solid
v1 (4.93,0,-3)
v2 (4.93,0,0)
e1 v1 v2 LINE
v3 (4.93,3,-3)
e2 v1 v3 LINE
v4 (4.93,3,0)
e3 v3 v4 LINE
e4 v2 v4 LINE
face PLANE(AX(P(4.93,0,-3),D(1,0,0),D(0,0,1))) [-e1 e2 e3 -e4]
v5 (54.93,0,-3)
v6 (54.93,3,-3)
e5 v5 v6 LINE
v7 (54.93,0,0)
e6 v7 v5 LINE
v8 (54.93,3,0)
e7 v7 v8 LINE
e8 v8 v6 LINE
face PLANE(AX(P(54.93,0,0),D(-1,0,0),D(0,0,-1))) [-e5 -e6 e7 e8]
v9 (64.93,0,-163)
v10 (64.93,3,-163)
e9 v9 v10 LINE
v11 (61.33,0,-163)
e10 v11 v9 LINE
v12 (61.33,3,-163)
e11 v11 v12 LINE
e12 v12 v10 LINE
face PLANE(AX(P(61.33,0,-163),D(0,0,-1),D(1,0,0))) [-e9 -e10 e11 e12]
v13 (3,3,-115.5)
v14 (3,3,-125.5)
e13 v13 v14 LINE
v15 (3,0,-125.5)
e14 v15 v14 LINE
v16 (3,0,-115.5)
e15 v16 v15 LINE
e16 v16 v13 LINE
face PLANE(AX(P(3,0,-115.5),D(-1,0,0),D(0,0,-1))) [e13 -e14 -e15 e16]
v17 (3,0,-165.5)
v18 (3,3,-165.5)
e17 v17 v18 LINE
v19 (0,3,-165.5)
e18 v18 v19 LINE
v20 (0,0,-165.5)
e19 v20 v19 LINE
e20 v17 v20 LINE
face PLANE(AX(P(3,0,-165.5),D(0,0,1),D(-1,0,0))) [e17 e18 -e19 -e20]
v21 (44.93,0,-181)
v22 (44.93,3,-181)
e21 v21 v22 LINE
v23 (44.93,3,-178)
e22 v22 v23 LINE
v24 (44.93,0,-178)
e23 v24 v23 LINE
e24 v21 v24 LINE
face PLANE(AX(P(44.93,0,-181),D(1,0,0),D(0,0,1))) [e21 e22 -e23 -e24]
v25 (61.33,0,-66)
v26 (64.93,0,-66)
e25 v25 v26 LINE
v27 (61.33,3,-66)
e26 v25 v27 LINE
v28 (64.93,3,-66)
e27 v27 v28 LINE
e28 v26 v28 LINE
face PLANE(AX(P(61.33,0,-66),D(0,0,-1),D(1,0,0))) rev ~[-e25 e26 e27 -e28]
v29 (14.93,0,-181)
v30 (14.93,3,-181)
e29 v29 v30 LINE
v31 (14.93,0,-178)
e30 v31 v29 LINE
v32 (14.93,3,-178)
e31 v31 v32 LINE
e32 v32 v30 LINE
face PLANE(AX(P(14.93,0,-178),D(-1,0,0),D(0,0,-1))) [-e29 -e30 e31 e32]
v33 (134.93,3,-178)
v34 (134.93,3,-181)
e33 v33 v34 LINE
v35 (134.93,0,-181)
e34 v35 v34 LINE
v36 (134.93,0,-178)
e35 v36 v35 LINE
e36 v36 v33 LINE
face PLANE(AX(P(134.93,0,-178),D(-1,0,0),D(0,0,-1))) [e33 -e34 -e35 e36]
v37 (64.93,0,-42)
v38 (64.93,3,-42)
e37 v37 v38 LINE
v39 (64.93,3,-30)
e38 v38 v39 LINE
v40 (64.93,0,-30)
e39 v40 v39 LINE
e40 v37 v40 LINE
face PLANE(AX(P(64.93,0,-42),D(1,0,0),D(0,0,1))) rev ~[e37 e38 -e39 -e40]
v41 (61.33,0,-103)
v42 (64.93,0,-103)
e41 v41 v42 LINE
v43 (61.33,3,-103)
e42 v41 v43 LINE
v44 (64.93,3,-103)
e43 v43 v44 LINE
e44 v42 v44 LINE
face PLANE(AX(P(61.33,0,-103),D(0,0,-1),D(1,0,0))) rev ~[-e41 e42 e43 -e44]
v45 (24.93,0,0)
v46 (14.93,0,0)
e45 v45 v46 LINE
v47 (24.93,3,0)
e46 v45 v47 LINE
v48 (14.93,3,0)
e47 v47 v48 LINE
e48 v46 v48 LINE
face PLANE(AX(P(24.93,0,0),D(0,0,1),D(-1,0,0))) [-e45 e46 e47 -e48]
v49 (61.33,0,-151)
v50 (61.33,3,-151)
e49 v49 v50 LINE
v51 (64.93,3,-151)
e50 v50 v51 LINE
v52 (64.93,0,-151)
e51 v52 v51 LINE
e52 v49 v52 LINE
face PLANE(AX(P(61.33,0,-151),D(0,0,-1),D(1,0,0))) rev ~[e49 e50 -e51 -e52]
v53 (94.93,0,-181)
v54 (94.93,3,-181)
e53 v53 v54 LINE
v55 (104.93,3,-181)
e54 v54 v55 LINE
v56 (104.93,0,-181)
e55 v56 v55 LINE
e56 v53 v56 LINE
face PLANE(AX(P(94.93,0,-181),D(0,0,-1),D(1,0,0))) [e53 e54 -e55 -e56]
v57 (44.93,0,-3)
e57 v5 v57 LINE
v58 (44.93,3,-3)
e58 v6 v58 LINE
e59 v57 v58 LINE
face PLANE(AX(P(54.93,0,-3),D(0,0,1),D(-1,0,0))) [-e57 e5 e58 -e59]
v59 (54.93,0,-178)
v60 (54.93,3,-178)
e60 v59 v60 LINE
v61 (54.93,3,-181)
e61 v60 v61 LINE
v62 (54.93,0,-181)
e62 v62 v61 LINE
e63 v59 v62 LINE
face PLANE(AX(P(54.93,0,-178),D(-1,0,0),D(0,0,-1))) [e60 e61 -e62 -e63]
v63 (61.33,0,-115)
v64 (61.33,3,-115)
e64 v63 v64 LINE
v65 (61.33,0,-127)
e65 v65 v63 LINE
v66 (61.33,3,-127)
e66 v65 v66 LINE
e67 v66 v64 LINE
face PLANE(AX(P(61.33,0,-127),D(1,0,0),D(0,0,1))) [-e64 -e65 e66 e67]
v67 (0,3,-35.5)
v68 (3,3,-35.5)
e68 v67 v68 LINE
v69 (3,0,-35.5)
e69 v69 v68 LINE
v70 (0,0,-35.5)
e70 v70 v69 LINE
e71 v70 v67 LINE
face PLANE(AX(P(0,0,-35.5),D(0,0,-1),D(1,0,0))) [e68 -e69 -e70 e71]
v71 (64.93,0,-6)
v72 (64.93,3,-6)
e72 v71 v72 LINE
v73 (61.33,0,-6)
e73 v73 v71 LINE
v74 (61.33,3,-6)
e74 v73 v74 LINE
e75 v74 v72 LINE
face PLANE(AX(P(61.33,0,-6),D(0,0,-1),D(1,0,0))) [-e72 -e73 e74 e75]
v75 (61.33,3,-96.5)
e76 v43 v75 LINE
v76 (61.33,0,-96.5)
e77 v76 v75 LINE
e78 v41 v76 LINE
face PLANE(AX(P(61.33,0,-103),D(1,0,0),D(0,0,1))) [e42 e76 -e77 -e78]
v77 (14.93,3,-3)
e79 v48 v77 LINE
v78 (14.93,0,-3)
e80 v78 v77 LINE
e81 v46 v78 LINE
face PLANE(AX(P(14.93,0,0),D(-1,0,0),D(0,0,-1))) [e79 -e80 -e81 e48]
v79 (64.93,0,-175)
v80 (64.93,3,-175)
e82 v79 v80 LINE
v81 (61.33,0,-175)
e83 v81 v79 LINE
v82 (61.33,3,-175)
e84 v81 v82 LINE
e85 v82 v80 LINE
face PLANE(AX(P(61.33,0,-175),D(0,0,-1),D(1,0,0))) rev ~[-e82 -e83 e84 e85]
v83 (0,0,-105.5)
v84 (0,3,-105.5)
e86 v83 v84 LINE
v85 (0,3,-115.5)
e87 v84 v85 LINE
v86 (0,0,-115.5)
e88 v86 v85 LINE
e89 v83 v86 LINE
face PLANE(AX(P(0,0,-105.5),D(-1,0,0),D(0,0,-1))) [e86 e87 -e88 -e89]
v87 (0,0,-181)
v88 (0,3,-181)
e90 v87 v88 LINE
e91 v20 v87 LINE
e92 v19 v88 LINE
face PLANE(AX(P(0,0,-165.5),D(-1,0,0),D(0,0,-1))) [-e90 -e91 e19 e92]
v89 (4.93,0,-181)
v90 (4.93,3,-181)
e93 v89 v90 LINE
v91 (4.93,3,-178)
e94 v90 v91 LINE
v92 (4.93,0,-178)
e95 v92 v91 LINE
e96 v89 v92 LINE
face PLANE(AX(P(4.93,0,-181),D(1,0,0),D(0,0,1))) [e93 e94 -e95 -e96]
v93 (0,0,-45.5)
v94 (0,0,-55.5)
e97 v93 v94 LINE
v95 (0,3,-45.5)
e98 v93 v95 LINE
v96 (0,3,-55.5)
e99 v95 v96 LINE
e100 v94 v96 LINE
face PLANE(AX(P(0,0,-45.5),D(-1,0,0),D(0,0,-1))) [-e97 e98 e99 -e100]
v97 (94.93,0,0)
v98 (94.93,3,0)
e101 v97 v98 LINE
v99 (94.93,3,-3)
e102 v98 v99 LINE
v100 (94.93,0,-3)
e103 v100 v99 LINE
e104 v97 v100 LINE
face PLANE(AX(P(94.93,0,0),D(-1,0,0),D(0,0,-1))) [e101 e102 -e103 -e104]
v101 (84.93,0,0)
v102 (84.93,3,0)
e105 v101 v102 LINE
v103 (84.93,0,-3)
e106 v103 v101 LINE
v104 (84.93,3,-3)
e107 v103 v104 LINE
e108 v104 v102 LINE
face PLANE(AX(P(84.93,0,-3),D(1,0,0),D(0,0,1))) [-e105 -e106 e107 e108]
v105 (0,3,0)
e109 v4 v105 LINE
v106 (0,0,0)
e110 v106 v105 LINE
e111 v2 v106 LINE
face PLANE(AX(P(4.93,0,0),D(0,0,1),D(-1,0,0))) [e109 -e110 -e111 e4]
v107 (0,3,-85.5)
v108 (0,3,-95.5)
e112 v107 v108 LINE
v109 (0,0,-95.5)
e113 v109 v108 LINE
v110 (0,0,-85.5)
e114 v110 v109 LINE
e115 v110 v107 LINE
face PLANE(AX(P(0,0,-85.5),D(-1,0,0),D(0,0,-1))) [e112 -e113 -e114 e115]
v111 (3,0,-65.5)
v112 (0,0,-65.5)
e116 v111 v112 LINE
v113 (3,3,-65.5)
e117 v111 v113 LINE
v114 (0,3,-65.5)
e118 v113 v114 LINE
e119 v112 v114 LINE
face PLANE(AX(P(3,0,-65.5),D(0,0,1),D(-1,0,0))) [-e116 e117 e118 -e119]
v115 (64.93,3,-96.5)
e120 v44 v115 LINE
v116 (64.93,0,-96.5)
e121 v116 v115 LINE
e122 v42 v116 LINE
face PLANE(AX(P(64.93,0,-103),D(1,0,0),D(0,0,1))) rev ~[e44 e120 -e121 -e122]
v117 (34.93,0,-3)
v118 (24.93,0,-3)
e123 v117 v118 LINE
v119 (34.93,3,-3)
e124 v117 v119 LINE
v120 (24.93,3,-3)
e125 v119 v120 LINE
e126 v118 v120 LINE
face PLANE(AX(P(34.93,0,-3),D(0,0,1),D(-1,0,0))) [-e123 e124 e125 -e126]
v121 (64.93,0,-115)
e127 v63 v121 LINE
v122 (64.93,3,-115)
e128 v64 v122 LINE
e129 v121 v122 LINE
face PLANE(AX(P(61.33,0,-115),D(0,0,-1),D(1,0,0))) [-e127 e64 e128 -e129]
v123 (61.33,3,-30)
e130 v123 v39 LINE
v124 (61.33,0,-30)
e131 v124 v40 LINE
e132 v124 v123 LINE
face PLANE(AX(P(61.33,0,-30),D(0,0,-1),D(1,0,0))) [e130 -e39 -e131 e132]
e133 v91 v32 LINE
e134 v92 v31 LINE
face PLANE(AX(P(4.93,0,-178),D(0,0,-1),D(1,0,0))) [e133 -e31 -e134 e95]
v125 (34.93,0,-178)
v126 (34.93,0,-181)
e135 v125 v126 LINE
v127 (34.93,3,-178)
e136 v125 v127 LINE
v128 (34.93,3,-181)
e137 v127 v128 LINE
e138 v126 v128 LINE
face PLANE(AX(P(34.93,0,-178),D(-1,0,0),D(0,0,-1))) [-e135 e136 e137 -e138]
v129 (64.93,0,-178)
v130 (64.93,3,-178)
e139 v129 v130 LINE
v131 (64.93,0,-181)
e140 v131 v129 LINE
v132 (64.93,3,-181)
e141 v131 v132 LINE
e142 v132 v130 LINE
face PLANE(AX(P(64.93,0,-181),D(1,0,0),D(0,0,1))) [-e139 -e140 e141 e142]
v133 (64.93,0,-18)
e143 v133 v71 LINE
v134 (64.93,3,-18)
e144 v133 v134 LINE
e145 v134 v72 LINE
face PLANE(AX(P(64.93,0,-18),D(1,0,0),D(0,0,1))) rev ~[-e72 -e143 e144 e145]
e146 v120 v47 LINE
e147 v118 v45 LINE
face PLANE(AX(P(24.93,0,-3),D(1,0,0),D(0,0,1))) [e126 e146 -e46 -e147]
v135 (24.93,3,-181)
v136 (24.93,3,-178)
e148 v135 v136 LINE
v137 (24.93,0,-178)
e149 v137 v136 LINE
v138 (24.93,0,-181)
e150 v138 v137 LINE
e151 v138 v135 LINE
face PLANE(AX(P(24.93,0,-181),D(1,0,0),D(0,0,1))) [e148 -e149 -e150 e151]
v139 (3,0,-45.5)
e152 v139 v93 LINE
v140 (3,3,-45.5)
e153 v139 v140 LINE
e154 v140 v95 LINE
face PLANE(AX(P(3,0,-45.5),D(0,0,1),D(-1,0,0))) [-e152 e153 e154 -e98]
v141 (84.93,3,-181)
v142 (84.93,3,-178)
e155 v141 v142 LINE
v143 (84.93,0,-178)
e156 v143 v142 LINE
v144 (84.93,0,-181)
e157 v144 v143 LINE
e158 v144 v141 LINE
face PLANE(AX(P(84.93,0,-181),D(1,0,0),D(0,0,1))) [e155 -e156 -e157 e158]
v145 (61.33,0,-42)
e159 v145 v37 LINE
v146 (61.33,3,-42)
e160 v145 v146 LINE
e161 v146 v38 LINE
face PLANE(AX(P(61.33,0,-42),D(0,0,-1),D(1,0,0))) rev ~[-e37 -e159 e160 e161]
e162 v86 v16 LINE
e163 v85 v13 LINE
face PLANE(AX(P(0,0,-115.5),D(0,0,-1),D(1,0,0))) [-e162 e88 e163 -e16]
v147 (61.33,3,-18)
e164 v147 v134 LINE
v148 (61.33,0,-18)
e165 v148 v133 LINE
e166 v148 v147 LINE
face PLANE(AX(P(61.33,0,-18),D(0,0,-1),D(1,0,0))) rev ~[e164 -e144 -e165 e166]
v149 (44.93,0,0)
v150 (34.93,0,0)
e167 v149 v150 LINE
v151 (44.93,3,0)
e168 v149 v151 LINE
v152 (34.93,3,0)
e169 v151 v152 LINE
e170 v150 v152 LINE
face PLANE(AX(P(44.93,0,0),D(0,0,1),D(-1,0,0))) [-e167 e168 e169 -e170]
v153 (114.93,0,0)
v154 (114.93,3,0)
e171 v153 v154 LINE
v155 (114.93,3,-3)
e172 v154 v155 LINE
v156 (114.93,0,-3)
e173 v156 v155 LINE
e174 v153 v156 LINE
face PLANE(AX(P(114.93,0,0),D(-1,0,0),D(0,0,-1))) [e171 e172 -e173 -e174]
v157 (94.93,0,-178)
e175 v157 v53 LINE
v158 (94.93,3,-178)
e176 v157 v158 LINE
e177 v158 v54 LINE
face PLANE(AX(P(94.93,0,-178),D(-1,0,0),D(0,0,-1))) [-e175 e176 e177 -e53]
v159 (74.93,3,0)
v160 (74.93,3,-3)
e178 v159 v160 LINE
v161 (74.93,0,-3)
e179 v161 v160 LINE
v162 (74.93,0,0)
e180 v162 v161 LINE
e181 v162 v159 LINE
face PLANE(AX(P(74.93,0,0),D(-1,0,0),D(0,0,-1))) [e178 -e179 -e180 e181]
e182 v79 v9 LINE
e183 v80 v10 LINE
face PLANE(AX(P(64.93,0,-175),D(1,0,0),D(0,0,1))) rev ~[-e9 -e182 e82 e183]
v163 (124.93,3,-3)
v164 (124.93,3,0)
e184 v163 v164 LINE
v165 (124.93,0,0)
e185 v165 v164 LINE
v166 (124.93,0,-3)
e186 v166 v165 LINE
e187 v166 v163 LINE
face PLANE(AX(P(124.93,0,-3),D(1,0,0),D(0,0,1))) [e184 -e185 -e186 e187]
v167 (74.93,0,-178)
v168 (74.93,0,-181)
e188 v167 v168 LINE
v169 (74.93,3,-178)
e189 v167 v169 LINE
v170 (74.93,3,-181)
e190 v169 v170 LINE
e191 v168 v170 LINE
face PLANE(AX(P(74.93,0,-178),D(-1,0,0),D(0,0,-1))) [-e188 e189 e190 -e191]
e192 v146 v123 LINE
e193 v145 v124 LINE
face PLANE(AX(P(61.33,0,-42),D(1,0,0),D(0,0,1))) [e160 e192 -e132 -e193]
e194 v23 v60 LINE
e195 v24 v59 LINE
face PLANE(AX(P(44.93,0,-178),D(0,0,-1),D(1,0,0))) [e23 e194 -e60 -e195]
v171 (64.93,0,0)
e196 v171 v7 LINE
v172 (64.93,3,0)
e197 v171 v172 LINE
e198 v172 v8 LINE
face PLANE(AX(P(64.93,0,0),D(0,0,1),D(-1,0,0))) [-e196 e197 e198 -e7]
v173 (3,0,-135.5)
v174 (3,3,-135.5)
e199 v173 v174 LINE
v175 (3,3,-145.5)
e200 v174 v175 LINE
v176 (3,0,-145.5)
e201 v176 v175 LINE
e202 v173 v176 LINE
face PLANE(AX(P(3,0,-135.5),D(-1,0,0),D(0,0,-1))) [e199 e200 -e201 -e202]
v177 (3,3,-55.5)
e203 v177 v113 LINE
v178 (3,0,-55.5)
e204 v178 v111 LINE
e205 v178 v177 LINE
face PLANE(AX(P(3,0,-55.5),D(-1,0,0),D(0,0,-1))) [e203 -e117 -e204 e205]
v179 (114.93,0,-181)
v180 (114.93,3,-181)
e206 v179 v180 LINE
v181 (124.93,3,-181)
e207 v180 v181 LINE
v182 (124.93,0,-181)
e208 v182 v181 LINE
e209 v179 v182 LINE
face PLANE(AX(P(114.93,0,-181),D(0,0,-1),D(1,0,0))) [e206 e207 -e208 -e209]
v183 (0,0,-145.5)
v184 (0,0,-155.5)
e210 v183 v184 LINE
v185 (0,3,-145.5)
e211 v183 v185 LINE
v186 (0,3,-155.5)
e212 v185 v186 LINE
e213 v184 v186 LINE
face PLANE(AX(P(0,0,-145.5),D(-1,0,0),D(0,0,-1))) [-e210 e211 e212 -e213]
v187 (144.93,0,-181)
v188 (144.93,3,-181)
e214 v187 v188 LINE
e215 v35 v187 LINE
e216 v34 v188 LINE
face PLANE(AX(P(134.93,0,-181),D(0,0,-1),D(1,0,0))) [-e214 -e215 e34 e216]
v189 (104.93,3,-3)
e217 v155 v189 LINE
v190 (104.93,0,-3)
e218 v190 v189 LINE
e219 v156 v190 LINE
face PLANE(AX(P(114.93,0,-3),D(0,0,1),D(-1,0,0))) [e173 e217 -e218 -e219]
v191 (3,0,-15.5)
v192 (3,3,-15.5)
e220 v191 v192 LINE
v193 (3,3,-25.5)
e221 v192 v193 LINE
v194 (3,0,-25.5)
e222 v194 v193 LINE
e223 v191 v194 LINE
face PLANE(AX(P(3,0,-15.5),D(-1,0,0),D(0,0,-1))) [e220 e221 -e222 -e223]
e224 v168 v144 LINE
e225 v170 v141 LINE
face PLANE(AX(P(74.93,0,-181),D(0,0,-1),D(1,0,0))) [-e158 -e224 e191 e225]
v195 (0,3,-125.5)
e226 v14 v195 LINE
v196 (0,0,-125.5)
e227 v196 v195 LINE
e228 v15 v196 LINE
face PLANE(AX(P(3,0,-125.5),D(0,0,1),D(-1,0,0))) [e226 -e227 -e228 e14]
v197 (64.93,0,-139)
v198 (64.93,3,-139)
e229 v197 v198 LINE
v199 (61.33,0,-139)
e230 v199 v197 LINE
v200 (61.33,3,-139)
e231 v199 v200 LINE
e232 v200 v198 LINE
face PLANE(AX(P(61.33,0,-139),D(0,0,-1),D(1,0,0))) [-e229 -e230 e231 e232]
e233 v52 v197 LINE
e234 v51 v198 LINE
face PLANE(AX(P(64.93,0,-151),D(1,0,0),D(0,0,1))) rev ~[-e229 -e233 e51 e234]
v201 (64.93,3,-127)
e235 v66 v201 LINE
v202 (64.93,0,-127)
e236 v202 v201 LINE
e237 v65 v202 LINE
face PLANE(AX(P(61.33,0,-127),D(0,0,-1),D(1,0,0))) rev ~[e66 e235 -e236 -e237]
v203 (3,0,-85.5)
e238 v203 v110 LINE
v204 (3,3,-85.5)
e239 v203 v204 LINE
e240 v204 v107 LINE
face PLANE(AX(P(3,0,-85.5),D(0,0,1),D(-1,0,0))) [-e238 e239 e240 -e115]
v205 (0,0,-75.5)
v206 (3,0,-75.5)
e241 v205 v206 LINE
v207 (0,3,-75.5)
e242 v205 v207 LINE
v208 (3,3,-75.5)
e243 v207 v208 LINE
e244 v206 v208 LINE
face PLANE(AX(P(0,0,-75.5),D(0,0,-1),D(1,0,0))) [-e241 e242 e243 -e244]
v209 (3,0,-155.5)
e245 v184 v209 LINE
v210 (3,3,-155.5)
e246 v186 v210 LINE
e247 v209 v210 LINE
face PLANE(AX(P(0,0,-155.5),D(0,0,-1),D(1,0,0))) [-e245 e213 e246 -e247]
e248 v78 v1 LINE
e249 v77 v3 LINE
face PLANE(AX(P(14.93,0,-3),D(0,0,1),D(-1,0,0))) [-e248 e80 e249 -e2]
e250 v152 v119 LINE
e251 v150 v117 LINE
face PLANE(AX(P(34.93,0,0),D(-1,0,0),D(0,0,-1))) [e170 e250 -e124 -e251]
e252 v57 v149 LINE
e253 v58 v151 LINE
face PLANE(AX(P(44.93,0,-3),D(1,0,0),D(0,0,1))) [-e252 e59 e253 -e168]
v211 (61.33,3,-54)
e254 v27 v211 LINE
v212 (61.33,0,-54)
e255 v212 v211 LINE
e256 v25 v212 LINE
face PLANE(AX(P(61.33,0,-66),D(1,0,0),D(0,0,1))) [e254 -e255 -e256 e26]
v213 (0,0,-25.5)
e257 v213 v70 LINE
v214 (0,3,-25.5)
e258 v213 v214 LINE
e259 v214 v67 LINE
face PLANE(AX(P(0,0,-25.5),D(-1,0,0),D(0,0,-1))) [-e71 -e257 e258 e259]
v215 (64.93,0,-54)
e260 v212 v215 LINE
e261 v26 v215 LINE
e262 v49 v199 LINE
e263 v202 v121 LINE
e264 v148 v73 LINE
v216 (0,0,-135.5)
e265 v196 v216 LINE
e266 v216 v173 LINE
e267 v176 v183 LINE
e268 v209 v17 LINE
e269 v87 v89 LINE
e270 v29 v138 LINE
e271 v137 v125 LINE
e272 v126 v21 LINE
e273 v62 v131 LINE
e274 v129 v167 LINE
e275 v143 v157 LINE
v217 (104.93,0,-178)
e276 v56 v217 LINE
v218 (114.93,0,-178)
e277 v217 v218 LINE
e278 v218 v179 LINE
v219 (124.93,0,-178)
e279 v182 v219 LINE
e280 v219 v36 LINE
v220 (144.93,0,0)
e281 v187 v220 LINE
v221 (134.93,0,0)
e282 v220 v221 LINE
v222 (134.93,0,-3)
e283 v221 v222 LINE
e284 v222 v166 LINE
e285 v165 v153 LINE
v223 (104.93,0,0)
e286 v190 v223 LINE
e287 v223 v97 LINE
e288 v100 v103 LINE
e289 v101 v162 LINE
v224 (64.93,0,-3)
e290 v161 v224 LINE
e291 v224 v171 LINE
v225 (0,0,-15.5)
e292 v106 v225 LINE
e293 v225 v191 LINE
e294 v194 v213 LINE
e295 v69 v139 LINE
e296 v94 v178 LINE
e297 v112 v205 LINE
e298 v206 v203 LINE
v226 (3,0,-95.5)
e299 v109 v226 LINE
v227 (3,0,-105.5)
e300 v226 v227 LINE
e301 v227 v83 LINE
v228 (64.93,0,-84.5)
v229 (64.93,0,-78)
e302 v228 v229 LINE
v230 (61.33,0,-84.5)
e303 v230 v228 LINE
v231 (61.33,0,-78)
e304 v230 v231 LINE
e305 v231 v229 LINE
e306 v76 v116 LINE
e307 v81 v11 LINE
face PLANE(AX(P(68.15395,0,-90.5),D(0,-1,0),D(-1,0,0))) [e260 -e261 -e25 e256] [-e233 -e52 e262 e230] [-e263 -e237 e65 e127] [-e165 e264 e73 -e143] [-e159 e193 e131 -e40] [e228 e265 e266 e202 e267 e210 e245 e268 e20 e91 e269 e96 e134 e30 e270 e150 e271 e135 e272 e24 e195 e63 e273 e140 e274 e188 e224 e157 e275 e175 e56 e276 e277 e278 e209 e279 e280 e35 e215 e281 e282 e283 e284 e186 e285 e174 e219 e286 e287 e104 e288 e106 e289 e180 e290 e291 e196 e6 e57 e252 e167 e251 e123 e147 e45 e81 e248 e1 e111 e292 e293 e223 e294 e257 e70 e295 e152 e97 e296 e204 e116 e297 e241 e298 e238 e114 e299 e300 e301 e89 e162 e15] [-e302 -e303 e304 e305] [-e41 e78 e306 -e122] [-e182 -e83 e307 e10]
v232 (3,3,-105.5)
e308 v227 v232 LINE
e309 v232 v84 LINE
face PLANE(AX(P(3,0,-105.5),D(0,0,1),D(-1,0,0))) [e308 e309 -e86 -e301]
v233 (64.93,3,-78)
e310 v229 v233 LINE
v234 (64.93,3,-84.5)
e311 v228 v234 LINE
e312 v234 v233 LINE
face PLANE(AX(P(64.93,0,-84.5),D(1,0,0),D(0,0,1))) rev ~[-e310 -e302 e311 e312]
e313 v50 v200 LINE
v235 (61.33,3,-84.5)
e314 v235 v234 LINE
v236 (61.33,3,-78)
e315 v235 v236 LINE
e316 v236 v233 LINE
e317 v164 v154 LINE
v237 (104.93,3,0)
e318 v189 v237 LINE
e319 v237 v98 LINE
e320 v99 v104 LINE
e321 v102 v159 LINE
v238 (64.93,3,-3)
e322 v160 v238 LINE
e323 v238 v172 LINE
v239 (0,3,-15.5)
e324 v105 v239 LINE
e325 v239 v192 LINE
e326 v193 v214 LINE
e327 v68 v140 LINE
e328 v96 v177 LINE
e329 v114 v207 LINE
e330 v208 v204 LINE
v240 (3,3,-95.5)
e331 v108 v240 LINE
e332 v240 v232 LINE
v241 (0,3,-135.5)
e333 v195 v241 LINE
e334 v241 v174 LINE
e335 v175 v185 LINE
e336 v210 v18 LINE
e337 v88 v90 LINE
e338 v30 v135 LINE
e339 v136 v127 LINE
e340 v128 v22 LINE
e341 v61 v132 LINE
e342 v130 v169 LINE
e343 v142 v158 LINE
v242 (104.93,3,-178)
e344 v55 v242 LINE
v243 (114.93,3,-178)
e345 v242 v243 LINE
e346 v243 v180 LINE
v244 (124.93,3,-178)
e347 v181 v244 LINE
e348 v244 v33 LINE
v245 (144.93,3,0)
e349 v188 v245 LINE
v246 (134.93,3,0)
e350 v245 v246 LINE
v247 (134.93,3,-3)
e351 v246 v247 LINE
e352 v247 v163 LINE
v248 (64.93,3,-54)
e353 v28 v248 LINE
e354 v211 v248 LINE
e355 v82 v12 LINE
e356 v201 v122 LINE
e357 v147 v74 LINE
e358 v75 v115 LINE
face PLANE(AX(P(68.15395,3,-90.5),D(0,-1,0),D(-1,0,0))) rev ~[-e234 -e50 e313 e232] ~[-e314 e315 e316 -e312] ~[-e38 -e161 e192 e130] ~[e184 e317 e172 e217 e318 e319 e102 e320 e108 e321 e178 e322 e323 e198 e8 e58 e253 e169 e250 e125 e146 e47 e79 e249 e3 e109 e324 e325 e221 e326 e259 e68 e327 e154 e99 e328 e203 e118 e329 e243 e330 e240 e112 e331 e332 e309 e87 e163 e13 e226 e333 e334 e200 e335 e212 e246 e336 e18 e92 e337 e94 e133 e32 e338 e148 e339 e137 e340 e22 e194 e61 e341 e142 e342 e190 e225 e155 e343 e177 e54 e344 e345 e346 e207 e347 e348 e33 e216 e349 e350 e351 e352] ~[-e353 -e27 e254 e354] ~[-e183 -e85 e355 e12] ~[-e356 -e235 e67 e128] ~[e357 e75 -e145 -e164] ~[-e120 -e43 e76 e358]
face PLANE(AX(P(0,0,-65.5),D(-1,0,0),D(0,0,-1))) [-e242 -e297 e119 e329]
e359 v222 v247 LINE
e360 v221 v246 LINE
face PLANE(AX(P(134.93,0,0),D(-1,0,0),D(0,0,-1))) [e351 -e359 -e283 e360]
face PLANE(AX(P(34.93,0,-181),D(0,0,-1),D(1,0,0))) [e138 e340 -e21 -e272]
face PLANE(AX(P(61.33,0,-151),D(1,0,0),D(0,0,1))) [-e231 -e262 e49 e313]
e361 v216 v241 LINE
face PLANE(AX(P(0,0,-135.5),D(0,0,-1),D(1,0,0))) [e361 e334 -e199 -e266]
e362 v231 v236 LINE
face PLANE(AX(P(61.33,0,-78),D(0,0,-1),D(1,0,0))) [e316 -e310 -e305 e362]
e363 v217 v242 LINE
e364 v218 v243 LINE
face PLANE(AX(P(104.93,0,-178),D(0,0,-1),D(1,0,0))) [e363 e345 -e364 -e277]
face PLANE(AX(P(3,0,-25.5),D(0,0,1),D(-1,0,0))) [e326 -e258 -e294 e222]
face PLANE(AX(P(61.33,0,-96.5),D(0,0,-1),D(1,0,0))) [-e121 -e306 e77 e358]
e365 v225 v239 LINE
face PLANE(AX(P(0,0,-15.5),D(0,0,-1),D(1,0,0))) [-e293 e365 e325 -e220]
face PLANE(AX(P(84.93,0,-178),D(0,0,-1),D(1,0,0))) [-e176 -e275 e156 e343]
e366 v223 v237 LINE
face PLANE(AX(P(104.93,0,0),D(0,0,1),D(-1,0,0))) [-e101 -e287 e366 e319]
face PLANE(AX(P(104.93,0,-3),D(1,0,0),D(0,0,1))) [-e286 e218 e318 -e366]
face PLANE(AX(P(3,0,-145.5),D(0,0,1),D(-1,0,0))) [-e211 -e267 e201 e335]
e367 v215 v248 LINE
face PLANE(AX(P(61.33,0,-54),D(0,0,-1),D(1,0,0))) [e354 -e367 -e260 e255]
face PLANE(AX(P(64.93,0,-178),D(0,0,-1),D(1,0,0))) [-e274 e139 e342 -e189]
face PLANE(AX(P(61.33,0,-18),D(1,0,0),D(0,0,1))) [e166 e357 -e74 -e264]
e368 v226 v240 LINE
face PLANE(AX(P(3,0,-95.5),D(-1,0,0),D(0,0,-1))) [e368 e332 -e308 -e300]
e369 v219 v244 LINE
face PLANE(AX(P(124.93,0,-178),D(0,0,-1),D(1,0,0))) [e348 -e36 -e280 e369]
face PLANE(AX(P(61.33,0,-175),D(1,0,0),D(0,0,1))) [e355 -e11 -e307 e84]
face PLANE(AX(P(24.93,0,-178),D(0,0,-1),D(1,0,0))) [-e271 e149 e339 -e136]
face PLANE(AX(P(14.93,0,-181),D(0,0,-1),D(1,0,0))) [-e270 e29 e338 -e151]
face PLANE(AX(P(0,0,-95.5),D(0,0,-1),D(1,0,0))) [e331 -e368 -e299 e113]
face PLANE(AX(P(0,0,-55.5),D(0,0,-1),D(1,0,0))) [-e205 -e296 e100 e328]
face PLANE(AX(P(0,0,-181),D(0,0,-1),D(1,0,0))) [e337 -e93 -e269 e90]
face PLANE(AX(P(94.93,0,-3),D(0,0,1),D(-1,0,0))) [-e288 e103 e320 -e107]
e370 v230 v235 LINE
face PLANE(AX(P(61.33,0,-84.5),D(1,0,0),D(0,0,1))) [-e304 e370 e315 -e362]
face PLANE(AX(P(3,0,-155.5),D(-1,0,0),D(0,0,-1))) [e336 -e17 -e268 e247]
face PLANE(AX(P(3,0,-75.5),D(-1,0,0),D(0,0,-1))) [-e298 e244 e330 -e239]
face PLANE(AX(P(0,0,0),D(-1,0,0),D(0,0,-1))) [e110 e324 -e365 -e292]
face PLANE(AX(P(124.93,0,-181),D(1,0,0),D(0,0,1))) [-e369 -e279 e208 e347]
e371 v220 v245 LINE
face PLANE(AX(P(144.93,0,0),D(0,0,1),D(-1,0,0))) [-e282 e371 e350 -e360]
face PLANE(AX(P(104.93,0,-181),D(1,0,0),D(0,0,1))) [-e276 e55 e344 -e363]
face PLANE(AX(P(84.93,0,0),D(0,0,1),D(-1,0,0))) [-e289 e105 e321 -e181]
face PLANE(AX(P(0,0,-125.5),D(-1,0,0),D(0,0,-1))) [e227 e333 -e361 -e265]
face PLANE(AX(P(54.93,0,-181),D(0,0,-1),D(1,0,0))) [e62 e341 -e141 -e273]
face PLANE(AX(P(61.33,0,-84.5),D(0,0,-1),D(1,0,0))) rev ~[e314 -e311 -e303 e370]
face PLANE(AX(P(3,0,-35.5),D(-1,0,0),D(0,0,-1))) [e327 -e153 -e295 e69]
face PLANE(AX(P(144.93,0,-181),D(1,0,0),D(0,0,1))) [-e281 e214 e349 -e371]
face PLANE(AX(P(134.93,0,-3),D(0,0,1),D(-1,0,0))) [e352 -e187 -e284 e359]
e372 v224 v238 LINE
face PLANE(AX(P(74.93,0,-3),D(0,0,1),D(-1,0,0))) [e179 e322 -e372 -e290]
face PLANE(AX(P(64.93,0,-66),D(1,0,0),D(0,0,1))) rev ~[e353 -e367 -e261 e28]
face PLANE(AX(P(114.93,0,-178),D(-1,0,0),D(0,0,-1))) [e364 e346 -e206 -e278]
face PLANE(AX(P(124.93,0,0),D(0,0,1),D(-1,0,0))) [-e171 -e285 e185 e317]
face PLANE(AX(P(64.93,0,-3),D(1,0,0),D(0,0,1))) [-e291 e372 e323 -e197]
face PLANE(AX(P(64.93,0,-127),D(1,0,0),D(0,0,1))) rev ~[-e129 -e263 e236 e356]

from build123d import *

# Parameters (mm, degrees)
BOSS_EXTRUDE1_DEPTH = 3
SKETCH2_W           = 3.6
SKETCH2_H           = 12
SKETCH2_H_2         = 6.5
CUT_EXTRUDE1_DEPTH  = 10


with BuildPart() as part:
    # Sketch1 → Boss-Extrude1 (new body)
    with BuildSketch(Plane(origin=(0, 0, 0), x_dir=(1, 0, 0), z_dir=(0, 1, 0))):
        Polygon((0, 0), (0, 15.5), (3, 15.5), (3, 25.5), (0, 25.5), (0, 35.5), (3, 35.5), (3, 45.5), (0, 45.5), (0, 55.5), (3, 55.5), (3, 65.5), (0, 65.5), (0, 75.5), (3, 75.5), (3, 85.5), (0, 85.5), (0, 95.5), (3, 95.5), (3, 105.5), (0, 105.5), (0, 115.5), (3, 115.5), (3, 125.5), (0, 125.5), (0, 135.5), (3, 135.5), (3, 145.5), (0, 145.5), (0, 155.5), (3, 155.5), (3, 165.5), (0, 165.5), (0, 181), (4.93, 181), (4.93, 178), (14.93, 178), (14.93, 181), (24.93, 181), (24.93, 178), (34.93, 178), (34.93, 181), (44.93, 181), (44.93, 178), (54.93, 178), (54.93, 181), (64.93, 181), (64.93, 178), (74.93, 178), (74.93, 181), (84.93, 181), (84.93, 178), (94.93, 178), (94.93, 181), (104.93, 181), (104.93, 178), (114.93, 178), (114.93, 181), (124.93, 181), (124.93, 178), (134.93, 178), (134.93, 181), (144.93, 181), (144.93, 0), (134.93, 0), (134.93, 3), (124.93, 3), (124.93, 0), (114.93, 0), (114.93, 3), (104.93, 3), (104.93, 0), (94.93, 0), (94.93, 3), (84.93, 3), (84.93, 0), (74.93, 0), (74.93, 3), (64.93, 3), (64.93, 0), (54.93, 0), (54.93, 3), (44.93, 3), (44.93, 0), (34.93, 0), (34.93, 3), (24.93, 3), (24.93, 0), (14.93, 0), (14.93, 3), (4.93, 3), (4.93, 0), align=None)
    extrude(amount=BOSS_EXTRUDE1_DEPTH)

    # Sketch2 → Cut-Extrude1 (cut)
    with BuildSketch(Plane.XZ):
        with Locations((63.13, -36)):
            Rectangle(SKETCH2_W, SKETCH2_H)
        with Locations((63.13, -12)):
            Rectangle(SKETCH2_W, SKETCH2_H)
        with Locations((63.13, -169)):
            Rectangle(SKETCH2_W, SKETCH2_H)
        with Locations((63.13, -145)):
            Rectangle(SKETCH2_W, SKETCH2_H)
        with Locations((63.13, -121)):
            Rectangle(SKETCH2_W, SKETCH2_H)
        with Locations((63.13, -99.75)):
            Rectangle(SKETCH2_W, SKETCH2_H_2)
        with Locations((63.13, -81.25)):
            Rectangle(SKETCH2_W, SKETCH2_H_2)
        with Locations((63.13, -60)):
            Rectangle(SKETCH2_W, SKETCH2_H)
    extrude(amount=-CUT_EXTRUDE1_DEPTH, mode=Mode.SUBTRACT)


solid = part.part
